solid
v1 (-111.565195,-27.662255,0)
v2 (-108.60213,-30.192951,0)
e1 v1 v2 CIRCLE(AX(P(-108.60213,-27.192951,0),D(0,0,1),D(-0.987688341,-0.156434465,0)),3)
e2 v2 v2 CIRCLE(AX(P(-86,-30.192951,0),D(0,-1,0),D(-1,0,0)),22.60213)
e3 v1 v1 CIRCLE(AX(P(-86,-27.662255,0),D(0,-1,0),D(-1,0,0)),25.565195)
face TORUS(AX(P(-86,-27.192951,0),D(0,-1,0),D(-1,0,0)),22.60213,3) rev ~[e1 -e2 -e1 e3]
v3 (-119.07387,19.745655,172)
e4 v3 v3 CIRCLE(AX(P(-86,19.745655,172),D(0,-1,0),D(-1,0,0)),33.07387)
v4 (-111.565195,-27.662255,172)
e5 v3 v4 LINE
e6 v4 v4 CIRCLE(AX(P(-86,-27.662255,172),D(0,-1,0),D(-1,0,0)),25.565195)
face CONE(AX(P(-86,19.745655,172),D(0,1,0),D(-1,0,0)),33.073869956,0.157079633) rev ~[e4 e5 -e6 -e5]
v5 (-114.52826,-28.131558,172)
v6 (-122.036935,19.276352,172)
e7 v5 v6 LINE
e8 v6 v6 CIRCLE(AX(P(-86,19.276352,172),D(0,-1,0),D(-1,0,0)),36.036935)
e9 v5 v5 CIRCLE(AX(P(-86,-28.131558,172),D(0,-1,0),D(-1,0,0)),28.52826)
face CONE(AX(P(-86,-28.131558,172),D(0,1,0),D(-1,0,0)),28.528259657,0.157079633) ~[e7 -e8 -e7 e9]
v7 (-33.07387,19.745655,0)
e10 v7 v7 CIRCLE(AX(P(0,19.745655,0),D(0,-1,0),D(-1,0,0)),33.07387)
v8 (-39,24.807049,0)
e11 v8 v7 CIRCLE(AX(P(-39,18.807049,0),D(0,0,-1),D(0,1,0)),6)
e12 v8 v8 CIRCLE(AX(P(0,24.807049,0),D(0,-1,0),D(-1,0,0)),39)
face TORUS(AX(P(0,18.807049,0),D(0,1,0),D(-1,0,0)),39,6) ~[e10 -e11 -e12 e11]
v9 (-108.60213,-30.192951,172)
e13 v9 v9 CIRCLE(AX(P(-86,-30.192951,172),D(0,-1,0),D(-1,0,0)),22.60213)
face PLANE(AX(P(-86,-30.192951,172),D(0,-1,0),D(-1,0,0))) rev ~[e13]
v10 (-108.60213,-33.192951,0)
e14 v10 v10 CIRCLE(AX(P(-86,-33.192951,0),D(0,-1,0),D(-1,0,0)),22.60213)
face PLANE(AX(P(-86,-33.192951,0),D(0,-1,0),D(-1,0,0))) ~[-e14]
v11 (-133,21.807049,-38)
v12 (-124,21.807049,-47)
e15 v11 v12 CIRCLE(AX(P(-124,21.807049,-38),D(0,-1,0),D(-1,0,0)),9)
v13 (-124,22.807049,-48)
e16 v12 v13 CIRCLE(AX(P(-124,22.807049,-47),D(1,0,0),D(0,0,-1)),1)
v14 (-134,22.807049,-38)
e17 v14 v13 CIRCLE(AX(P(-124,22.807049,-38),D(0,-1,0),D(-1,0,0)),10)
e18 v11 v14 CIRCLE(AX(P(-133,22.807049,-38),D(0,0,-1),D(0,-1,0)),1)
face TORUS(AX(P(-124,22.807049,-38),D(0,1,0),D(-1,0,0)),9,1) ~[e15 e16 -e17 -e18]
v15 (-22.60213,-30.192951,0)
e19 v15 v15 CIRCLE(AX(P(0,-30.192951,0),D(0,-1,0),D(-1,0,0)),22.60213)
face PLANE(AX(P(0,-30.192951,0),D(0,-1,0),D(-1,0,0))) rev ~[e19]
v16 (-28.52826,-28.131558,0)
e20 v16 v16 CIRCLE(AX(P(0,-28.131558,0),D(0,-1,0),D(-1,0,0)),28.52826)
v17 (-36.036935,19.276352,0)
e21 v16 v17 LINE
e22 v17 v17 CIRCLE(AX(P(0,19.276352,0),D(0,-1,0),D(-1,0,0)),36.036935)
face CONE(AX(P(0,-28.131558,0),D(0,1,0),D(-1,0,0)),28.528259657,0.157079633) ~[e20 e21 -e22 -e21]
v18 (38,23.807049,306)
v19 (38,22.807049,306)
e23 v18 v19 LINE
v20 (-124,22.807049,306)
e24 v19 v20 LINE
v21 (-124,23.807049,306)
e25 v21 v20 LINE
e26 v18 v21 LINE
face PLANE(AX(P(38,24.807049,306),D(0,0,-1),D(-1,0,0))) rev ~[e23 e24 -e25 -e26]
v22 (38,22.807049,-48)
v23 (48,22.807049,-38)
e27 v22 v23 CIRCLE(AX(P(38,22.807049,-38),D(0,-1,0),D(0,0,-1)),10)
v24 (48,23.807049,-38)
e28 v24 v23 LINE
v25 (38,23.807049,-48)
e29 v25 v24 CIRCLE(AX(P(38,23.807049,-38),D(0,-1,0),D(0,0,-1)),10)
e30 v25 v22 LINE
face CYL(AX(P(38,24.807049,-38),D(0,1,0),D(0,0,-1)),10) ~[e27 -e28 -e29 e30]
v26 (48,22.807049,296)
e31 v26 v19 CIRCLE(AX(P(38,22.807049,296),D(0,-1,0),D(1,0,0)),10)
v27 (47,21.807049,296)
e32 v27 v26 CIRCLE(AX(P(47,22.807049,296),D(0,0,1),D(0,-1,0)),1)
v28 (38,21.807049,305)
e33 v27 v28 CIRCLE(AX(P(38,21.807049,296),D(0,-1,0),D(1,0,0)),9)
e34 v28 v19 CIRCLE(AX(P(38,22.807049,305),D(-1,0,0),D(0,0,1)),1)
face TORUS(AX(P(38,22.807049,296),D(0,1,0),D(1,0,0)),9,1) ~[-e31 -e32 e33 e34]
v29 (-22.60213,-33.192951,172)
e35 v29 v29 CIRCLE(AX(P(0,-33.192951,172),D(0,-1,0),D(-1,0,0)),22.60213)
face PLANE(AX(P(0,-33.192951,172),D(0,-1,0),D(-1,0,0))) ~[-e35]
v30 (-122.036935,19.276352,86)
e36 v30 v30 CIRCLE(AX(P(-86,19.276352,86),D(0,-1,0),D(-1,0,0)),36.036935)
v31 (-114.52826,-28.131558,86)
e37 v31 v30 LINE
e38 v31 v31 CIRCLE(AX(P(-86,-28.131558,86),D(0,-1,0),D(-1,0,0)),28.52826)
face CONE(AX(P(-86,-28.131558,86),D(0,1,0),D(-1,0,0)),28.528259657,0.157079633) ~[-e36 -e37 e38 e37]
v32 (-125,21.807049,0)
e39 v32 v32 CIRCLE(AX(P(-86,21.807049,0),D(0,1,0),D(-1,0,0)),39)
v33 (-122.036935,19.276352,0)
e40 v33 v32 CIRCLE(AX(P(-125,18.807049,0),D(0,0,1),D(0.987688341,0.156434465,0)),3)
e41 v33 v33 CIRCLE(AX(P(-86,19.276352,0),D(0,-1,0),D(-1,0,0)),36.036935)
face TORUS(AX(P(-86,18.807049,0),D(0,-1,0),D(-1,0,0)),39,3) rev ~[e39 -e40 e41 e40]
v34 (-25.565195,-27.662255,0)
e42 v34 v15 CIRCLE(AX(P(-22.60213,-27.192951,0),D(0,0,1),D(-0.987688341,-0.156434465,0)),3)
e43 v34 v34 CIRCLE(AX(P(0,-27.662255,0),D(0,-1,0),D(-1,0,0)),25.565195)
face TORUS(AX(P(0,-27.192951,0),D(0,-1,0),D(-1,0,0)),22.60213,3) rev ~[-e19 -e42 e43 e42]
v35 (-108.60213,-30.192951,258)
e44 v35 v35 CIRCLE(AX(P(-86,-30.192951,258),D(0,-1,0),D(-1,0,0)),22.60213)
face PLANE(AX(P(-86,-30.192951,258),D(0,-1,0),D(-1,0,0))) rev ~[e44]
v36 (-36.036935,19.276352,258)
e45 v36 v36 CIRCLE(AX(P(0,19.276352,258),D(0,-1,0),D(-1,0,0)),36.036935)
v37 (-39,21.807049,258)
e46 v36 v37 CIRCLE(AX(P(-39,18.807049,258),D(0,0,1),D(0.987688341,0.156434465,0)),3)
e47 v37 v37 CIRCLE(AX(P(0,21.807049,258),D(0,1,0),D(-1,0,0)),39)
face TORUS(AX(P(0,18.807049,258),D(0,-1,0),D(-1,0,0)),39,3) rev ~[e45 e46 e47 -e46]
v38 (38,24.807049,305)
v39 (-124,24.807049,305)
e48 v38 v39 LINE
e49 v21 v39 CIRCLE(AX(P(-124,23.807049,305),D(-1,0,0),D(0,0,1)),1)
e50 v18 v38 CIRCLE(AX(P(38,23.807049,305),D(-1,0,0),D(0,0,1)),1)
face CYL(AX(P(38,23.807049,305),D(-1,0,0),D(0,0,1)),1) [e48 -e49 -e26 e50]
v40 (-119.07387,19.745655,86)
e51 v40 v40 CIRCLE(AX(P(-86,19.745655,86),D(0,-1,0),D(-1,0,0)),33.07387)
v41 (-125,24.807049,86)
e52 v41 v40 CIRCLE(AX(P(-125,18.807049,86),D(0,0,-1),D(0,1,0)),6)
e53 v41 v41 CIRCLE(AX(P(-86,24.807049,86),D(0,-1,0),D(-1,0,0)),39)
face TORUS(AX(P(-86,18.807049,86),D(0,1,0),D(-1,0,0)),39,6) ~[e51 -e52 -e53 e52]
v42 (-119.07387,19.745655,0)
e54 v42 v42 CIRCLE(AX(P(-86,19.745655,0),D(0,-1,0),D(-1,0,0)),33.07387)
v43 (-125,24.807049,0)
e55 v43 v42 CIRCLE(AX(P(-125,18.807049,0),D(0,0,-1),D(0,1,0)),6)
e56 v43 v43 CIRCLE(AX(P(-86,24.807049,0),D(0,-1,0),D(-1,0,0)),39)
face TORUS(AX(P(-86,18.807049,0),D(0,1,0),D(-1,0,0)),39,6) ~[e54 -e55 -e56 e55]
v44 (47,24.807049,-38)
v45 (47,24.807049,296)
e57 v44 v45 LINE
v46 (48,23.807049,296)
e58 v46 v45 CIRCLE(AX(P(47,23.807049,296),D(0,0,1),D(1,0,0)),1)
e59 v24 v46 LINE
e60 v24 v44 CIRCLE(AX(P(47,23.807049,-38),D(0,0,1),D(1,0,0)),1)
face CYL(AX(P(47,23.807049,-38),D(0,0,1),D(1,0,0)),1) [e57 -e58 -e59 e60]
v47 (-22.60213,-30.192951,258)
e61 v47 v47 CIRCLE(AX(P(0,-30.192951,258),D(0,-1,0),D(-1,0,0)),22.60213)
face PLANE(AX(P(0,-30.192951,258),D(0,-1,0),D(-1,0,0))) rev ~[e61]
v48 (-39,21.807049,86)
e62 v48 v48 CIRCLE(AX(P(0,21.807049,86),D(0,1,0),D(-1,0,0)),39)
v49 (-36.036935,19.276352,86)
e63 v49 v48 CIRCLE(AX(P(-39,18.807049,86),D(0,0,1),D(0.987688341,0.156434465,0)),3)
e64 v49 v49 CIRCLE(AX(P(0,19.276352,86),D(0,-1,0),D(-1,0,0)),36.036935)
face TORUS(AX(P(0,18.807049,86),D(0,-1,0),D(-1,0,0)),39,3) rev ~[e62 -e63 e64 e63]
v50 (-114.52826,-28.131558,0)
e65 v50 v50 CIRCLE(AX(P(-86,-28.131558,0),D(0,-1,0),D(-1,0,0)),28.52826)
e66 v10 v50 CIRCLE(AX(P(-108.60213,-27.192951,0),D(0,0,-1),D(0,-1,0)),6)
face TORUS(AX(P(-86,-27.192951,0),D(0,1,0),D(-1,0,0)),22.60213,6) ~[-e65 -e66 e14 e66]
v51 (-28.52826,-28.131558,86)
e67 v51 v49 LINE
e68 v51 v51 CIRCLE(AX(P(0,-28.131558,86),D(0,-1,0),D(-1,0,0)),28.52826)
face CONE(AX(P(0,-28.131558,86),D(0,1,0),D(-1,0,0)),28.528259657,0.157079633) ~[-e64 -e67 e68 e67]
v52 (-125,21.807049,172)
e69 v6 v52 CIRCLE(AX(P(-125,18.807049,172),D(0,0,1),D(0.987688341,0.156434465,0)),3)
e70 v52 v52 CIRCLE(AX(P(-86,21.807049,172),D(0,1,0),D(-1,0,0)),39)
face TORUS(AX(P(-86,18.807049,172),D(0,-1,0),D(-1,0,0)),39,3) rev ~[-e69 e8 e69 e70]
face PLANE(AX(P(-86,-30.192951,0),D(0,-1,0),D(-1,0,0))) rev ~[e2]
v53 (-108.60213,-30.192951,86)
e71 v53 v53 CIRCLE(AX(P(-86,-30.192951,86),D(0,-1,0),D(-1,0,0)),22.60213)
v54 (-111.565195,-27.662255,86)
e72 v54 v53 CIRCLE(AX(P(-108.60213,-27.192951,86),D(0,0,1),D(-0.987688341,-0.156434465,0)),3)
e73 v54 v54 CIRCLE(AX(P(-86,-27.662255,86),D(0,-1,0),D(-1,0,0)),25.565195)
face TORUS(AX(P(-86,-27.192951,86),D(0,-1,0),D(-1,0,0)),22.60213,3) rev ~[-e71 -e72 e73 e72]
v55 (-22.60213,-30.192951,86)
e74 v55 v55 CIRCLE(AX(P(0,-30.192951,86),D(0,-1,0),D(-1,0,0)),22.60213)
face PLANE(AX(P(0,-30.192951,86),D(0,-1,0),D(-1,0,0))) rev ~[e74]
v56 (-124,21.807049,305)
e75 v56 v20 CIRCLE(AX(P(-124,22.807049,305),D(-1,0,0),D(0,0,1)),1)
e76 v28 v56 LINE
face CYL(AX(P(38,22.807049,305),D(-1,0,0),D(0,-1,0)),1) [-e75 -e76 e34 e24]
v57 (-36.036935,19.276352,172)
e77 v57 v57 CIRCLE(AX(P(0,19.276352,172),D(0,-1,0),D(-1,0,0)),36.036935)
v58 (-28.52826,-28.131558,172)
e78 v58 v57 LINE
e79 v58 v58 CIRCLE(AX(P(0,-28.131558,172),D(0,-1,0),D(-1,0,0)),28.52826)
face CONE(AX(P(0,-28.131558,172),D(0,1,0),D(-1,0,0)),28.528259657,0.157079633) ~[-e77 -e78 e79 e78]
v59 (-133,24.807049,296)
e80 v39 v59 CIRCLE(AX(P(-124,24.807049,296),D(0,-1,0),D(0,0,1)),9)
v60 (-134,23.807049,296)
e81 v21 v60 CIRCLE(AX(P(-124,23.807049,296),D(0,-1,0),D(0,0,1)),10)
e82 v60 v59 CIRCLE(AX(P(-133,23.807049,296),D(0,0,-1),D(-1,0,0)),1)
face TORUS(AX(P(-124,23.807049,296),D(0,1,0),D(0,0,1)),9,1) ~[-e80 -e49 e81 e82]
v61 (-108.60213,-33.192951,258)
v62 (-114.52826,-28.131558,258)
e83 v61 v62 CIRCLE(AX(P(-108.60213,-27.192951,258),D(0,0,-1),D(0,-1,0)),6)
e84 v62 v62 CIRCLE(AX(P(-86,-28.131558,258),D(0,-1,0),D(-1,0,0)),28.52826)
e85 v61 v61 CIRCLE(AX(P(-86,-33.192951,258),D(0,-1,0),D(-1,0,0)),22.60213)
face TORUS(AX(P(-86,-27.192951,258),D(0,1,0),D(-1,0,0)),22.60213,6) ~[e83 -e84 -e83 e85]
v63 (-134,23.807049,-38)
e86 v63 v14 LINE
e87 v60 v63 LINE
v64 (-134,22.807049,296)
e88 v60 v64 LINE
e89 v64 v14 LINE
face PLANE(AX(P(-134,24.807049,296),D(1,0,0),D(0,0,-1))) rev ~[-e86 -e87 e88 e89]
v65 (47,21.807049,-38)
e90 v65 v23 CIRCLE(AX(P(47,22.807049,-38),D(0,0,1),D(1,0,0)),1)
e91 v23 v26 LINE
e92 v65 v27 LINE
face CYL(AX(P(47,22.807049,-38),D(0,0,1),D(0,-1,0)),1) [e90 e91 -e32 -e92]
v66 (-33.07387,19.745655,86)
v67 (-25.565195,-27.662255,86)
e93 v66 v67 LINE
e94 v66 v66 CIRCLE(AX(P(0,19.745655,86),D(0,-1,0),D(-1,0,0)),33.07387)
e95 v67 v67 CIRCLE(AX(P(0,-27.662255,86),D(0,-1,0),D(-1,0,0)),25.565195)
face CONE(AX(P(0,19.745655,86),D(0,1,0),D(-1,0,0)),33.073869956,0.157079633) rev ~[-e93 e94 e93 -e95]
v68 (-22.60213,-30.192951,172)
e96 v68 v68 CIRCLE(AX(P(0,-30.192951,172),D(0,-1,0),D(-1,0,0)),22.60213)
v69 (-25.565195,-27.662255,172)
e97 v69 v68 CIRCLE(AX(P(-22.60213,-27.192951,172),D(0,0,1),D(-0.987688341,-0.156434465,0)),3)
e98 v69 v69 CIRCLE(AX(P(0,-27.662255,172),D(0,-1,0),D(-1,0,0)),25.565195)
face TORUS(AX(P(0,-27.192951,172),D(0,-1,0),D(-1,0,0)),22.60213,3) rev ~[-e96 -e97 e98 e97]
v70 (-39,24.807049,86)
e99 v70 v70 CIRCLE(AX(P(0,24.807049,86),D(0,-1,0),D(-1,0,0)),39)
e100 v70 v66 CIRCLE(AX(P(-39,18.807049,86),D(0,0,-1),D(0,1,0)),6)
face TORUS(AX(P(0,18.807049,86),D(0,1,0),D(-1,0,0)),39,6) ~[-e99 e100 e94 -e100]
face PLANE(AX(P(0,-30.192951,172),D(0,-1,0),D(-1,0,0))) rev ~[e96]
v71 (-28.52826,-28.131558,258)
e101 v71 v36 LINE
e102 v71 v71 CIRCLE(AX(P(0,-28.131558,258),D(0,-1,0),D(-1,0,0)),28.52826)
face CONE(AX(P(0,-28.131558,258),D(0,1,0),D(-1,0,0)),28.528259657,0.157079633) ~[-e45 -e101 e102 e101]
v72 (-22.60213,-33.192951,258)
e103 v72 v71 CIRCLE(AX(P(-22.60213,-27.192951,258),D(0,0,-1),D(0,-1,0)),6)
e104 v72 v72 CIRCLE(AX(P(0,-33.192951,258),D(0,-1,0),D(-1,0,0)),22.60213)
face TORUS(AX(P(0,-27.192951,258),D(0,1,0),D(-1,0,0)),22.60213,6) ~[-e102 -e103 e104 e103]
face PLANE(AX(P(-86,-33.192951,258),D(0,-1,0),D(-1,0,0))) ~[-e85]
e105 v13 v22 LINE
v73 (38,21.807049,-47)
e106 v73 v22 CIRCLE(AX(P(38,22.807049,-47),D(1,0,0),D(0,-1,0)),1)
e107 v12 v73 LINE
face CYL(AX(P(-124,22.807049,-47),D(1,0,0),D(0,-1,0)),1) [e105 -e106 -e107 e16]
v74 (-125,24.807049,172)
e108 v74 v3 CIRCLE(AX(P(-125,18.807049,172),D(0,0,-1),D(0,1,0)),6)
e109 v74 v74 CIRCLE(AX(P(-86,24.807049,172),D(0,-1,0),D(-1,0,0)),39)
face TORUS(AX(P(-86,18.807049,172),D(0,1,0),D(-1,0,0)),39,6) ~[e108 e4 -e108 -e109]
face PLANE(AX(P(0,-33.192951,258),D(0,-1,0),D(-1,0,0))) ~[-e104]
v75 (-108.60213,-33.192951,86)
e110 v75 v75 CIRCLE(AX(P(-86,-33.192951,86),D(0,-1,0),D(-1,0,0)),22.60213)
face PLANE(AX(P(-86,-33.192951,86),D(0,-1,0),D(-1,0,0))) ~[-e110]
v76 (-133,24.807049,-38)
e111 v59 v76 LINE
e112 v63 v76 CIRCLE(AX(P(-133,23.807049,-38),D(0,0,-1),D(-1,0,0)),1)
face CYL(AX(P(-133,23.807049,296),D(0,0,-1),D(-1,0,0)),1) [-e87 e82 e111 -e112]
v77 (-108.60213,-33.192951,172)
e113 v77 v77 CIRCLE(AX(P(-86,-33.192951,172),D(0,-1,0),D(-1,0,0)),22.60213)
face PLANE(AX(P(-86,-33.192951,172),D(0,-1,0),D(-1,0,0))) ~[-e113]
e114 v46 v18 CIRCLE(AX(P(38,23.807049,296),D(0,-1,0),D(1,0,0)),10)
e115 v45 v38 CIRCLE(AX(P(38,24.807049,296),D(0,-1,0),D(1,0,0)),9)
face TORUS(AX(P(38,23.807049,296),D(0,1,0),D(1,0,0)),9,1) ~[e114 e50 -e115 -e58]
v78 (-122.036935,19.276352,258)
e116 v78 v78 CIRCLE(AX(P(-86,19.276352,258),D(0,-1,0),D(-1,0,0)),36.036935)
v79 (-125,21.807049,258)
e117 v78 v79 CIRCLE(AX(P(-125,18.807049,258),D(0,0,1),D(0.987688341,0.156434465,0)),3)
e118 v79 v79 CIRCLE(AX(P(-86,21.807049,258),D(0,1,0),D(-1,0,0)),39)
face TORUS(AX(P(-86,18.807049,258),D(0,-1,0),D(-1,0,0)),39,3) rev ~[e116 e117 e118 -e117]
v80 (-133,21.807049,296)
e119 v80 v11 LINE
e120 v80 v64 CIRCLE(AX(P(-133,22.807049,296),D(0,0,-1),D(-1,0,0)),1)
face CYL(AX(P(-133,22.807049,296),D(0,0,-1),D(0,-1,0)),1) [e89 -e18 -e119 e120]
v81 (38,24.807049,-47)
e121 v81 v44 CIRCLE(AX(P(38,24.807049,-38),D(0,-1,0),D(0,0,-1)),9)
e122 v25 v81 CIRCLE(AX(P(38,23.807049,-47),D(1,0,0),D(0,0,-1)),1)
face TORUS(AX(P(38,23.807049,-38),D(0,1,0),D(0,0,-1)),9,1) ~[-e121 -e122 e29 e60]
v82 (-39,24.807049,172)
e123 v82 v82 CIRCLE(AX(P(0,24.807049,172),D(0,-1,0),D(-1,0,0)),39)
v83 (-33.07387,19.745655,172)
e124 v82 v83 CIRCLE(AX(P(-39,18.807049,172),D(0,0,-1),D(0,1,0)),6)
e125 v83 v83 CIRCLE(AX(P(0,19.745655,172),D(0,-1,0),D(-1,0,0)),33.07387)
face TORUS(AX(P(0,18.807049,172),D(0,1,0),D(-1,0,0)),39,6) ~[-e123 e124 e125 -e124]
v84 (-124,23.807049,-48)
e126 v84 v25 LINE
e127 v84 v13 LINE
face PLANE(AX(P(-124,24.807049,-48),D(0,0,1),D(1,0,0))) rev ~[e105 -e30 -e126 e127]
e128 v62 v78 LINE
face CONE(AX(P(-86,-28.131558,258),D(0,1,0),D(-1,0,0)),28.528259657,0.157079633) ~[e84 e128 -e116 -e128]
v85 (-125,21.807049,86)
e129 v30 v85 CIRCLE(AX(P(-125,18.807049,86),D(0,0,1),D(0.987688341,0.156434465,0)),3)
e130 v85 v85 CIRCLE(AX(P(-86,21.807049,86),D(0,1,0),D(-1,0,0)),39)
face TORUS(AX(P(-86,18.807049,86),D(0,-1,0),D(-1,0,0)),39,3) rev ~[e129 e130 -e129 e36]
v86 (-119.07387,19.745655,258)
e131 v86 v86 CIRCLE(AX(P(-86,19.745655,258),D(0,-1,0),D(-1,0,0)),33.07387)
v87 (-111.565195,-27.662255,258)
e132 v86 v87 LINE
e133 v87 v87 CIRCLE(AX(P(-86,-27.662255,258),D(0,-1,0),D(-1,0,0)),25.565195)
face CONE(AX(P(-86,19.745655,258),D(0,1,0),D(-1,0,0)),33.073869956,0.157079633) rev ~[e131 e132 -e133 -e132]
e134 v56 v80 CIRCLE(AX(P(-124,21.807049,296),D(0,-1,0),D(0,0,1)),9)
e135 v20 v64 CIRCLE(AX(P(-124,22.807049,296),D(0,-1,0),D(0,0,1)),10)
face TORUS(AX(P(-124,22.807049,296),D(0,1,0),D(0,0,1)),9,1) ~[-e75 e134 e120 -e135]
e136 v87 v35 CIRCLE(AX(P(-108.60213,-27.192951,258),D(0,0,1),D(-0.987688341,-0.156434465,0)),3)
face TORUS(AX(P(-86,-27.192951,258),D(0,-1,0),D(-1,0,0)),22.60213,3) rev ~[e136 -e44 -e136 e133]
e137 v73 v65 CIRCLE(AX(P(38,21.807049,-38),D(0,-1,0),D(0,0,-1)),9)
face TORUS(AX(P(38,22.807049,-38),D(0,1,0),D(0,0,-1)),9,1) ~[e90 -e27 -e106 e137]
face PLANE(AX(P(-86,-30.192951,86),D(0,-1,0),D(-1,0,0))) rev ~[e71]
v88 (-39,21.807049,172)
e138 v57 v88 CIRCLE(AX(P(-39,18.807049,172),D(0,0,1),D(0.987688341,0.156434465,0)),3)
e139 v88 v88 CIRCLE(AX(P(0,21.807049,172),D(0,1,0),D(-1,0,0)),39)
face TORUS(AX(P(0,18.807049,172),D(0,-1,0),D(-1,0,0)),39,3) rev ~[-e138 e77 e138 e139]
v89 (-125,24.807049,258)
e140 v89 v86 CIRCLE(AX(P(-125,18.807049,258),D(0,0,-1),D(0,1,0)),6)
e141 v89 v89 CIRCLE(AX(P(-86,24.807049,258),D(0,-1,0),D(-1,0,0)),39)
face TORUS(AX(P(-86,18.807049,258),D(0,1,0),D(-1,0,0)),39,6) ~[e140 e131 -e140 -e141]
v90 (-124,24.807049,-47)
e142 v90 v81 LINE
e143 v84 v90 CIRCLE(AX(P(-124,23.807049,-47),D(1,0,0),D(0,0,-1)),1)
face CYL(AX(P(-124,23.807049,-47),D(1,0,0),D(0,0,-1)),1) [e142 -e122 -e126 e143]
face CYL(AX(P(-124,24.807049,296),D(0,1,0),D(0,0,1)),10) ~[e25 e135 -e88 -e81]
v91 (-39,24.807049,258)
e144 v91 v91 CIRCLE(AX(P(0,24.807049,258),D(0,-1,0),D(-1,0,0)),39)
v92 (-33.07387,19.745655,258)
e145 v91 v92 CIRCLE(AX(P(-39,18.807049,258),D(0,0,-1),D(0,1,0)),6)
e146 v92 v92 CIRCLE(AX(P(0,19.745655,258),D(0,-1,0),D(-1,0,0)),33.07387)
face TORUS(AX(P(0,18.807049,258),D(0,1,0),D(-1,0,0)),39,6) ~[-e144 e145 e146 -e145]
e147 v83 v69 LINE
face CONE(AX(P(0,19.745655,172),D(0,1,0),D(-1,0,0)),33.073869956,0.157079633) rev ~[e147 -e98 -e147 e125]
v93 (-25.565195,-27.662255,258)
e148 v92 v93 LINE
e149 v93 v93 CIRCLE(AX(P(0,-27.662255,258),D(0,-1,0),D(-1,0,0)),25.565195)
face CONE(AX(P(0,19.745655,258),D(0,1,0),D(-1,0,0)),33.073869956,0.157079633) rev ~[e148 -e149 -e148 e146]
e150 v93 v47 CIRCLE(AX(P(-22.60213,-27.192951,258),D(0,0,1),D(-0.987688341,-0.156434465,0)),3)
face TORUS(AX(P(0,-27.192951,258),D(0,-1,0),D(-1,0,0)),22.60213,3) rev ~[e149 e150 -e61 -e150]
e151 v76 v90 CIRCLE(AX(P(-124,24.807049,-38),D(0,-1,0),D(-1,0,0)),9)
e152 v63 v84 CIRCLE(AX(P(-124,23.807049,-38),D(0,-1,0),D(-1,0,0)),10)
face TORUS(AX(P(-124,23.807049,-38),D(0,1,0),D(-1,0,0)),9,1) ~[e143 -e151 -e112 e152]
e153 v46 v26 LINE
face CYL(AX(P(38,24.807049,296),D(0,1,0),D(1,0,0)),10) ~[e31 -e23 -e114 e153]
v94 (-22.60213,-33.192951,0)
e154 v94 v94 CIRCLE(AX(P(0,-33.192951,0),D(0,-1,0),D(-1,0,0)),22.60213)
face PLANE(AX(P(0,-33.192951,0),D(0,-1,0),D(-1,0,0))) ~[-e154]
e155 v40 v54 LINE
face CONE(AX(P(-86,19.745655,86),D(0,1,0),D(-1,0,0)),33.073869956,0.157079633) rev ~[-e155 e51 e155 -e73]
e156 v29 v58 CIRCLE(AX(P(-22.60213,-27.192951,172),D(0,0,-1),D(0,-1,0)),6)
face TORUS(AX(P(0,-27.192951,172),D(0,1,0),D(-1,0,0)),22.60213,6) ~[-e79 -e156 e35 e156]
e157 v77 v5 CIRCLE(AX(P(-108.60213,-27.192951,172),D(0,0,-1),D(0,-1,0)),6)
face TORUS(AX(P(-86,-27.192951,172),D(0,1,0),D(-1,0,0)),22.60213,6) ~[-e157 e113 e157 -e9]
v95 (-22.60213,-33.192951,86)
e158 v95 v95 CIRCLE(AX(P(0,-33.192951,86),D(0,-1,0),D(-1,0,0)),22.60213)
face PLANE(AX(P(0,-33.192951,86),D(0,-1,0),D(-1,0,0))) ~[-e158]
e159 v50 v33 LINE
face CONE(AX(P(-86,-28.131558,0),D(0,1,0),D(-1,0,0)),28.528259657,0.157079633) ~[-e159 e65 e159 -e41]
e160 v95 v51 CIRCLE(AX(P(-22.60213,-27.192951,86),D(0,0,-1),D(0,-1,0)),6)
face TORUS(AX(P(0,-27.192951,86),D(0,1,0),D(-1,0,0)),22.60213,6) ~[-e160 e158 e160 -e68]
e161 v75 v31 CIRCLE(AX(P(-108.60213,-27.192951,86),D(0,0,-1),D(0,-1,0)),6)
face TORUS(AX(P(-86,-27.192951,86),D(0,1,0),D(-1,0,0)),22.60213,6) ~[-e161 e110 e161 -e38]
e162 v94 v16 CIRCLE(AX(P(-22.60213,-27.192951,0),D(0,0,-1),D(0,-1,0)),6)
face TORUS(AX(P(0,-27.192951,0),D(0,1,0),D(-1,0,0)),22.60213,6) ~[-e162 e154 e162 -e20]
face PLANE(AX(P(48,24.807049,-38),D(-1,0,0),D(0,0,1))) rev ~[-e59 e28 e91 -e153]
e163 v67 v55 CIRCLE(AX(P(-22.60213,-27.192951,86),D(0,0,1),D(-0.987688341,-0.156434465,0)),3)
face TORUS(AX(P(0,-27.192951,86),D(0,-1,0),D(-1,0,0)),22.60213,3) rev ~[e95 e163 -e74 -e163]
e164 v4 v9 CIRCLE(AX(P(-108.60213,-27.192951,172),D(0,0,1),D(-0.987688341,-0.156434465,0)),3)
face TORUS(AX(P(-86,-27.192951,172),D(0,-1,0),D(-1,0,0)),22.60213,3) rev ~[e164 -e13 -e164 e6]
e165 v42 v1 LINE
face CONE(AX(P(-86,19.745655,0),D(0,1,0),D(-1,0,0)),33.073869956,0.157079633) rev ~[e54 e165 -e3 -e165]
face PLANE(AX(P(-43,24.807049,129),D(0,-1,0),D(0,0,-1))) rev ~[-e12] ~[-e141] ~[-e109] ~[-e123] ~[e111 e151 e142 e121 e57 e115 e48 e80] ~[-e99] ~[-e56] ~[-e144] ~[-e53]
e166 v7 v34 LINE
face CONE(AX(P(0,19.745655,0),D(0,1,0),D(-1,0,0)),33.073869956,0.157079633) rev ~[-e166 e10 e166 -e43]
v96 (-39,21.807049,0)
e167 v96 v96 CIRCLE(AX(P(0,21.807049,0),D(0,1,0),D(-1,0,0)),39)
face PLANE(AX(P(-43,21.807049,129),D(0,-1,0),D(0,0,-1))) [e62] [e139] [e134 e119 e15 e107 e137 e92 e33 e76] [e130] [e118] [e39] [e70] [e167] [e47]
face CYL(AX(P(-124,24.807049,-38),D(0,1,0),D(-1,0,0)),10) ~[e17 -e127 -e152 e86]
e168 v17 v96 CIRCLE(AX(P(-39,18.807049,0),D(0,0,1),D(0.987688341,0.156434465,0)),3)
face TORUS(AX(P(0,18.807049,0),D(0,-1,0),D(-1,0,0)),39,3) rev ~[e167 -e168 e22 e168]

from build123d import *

# Parameters (mm, degrees)
LPATTERN5_COUNT     = 4
LPATTERN5_PITCH     = 86
LPATTERN6_COUNT     = 2
LPATTERN6_PITCH     = 86
SKETCH6_R           = 39
BOSS_EXTRUDE2_DEPTH = 3
FILLET1_R           = 1
FILLET2_R           = 1


with BuildPart() as part:
    # Sketch1 → Revolve1 (revolve)
    with BuildSketch(Plane.XY):
        with BuildLine():
            Line((0, -33.192951346), (-22.602129613, -33.192951346))
            ThreePointArc((-22.602129613, -33.192951346), (-26.498817903, -31.755387139), (-28.528259657, -28.131558136))
            Line((-28.528259657, -28.131558136), (-36.036934978, 19.276352049))
            ThreePointArc((-36.036934978, 19.276352049), (-37.051655855, 21.088266551), (-39, 21.807048654))
            Line((-39, 21.807048654), (-39, 24.807048654))
            ThreePointArc((-39, 24.807048654), (-35.10331171, 23.369484448), (-33.073869956, 19.745655445))
            Line((-33.073869956, 19.745655445), (-25.565194635, -27.662254741))
            ThreePointArc((-25.565194635, -27.662254741), (-24.550473758, -29.474169243), (-22.602129613, -30.192951346))
            Line((-22.602129613, -30.192951346), (0, -30.192951346))
            Line((0, -30.192951346), (0, -33.192951346))
        make_face()
    revolve(axis=Axis((0, 5.813808691, 0), (0, -1, 0)))


with BuildPart() as lpattern5_1:
    # LPattern5: pattern copy
    add(part.part.moved(Location(Vector(0, 0, 1) * (1 * LPATTERN5_PITCH))))


with BuildPart() as lpattern5_2:
    # LPattern5: pattern copy
    add(part.part.moved(Location(Vector(0, 0, 1) * (2 * LPATTERN5_PITCH))))


with BuildPart() as lpattern5_3:
    # LPattern5: pattern copy
    add(part.part.moved(Location(Vector(0, 0, 1) * (3 * LPATTERN5_PITCH))))


with BuildPart() as lpattern6_1:
    # LPattern6: pattern copy
    add(lpattern5_3.part.moved(Location(Vector(-1, 0, 0) * (1 * LPATTERN6_PITCH))))


with BuildPart() as lpattern6_2:
    # LPattern6: pattern copy
    add(lpattern5_2.part.moved(Location(Vector(-1, 0, 0) * (1 * LPATTERN6_PITCH))))


with BuildPart() as lpattern6_3:
    # LPattern6: pattern copy
    add(lpattern5_1.part.moved(Location(Vector(-1, 0, 0) * (1 * LPATTERN6_PITCH))))


with BuildPart() as lpattern6_4:
    # LPattern6: pattern copy
    add(part.part.moved(Location(Vector(-1, 0, 0) * (1 * LPATTERN6_PITCH))))


with BuildPart() as part_1:
    add(part.part)

    add(lpattern5_1.part)  # Boss-Extrude2 merges LPattern5_1

    add(lpattern5_2.part)  # Boss-Extrude2 merges LPattern5_2

    add(lpattern5_3.part)  # Boss-Extrude2 merges LPattern5_3

    add(lpattern6_1.part)  # Boss-Extrude2 merges LPattern6_1

    add(lpattern6_2.part)  # Boss-Extrude2 merges LPattern6_2

    add(lpattern6_3.part)  # Boss-Extrude2 merges LPattern6_3

    add(lpattern6_4.part)  # Boss-Extrude2 merges LPattern6_4
    # Sketch6 → Boss-Extrude2 (add)
    with BuildSketch(Plane(origin=(0, 24.807048654, 0), x_dir=(0, 0, -1), z_dir=(0, -1, 0))):
        with BuildLine():
            Line((38, 48), (-296, 48))
            ThreePointArc((-296, 48), (-303.071067812, 45.071067812), (-306, 38))
            Line((-306, 38), (-306, -124))
            ThreePointArc((-306, -124), (-303.071067812, -131.071067812), (-296, -134))
            Line((-296, -134), (38, -134))
            ThreePointArc((38, -134), (45.071067812, -131.071067812), (48, -124))
            Line((48, -124), (48, 38))
            ThreePointArc((48, 38), (45.071067812, 45.071067812), (38, 48))
        make_face()
        Circle(SKETCH6_R, mode=Mode.SUBTRACT)
        with Locations((-86, 0)):
            Circle(SKETCH6_R, mode=Mode.SUBTRACT)
        with Locations((-172, 0)):
            Circle(SKETCH6_R, mode=Mode.SUBTRACT)
        with Locations((-258, 0)):
            Circle(SKETCH6_R, mode=Mode.SUBTRACT)
        with Locations((-86, -86)):
            Circle(SKETCH6_R, mode=Mode.SUBTRACT)
        with Locations((-172, -86)):
            Circle(SKETCH6_R, mode=Mode.SUBTRACT)
        with Locations((-258, -86)):
            Circle(SKETCH6_R, mode=Mode.SUBTRACT)
        with Locations((0, -86)):
            Circle(SKETCH6_R, mode=Mode.SUBTRACT)
    extrude(amount=BOSS_EXTRUDE2_DEPTH)

    # Fillet1
    fillet1_edges = [part_1.edges().sort_by_distance(p)[0] for p in [
        (-131.071067812, 24.807048654, 303.071067812),
        (-134, 24.807048654, 129),
        (-131.071067812, 24.807048654, -45.071067812),
        (-43, 24.807048654, -48),
        (45.071067812, 24.807048654, -45.071067812),
        (48, 24.807048654, 129),
        (45.071067812, 24.807048654, 303.071067812),
        (-43, 24.807048654, 306),
    ]]
    fillet(fillet1_edges, radius=FILLET1_R)

    # Fillet2
    fillet2_edges = [part_1.edges().sort_by_distance(p)[0] for p in [
        (-131.071067812, 21.807048654, 303.071067812),
        (-134, 21.807048654, 129),
        (-131.071067812, 21.807048654, -45.071067812),
        (-43, 21.807048654, -48),
        (45.071067812, 21.807048654, -45.071067812),
        (48, 21.807048654, 129),
        (45.071067812, 21.807048654, 303.071067812),
        (-43, 21.807048654, 306),
    ]]
    fillet(fillet2_edges, radius=FILLET2_R)


solid = part_1.part
